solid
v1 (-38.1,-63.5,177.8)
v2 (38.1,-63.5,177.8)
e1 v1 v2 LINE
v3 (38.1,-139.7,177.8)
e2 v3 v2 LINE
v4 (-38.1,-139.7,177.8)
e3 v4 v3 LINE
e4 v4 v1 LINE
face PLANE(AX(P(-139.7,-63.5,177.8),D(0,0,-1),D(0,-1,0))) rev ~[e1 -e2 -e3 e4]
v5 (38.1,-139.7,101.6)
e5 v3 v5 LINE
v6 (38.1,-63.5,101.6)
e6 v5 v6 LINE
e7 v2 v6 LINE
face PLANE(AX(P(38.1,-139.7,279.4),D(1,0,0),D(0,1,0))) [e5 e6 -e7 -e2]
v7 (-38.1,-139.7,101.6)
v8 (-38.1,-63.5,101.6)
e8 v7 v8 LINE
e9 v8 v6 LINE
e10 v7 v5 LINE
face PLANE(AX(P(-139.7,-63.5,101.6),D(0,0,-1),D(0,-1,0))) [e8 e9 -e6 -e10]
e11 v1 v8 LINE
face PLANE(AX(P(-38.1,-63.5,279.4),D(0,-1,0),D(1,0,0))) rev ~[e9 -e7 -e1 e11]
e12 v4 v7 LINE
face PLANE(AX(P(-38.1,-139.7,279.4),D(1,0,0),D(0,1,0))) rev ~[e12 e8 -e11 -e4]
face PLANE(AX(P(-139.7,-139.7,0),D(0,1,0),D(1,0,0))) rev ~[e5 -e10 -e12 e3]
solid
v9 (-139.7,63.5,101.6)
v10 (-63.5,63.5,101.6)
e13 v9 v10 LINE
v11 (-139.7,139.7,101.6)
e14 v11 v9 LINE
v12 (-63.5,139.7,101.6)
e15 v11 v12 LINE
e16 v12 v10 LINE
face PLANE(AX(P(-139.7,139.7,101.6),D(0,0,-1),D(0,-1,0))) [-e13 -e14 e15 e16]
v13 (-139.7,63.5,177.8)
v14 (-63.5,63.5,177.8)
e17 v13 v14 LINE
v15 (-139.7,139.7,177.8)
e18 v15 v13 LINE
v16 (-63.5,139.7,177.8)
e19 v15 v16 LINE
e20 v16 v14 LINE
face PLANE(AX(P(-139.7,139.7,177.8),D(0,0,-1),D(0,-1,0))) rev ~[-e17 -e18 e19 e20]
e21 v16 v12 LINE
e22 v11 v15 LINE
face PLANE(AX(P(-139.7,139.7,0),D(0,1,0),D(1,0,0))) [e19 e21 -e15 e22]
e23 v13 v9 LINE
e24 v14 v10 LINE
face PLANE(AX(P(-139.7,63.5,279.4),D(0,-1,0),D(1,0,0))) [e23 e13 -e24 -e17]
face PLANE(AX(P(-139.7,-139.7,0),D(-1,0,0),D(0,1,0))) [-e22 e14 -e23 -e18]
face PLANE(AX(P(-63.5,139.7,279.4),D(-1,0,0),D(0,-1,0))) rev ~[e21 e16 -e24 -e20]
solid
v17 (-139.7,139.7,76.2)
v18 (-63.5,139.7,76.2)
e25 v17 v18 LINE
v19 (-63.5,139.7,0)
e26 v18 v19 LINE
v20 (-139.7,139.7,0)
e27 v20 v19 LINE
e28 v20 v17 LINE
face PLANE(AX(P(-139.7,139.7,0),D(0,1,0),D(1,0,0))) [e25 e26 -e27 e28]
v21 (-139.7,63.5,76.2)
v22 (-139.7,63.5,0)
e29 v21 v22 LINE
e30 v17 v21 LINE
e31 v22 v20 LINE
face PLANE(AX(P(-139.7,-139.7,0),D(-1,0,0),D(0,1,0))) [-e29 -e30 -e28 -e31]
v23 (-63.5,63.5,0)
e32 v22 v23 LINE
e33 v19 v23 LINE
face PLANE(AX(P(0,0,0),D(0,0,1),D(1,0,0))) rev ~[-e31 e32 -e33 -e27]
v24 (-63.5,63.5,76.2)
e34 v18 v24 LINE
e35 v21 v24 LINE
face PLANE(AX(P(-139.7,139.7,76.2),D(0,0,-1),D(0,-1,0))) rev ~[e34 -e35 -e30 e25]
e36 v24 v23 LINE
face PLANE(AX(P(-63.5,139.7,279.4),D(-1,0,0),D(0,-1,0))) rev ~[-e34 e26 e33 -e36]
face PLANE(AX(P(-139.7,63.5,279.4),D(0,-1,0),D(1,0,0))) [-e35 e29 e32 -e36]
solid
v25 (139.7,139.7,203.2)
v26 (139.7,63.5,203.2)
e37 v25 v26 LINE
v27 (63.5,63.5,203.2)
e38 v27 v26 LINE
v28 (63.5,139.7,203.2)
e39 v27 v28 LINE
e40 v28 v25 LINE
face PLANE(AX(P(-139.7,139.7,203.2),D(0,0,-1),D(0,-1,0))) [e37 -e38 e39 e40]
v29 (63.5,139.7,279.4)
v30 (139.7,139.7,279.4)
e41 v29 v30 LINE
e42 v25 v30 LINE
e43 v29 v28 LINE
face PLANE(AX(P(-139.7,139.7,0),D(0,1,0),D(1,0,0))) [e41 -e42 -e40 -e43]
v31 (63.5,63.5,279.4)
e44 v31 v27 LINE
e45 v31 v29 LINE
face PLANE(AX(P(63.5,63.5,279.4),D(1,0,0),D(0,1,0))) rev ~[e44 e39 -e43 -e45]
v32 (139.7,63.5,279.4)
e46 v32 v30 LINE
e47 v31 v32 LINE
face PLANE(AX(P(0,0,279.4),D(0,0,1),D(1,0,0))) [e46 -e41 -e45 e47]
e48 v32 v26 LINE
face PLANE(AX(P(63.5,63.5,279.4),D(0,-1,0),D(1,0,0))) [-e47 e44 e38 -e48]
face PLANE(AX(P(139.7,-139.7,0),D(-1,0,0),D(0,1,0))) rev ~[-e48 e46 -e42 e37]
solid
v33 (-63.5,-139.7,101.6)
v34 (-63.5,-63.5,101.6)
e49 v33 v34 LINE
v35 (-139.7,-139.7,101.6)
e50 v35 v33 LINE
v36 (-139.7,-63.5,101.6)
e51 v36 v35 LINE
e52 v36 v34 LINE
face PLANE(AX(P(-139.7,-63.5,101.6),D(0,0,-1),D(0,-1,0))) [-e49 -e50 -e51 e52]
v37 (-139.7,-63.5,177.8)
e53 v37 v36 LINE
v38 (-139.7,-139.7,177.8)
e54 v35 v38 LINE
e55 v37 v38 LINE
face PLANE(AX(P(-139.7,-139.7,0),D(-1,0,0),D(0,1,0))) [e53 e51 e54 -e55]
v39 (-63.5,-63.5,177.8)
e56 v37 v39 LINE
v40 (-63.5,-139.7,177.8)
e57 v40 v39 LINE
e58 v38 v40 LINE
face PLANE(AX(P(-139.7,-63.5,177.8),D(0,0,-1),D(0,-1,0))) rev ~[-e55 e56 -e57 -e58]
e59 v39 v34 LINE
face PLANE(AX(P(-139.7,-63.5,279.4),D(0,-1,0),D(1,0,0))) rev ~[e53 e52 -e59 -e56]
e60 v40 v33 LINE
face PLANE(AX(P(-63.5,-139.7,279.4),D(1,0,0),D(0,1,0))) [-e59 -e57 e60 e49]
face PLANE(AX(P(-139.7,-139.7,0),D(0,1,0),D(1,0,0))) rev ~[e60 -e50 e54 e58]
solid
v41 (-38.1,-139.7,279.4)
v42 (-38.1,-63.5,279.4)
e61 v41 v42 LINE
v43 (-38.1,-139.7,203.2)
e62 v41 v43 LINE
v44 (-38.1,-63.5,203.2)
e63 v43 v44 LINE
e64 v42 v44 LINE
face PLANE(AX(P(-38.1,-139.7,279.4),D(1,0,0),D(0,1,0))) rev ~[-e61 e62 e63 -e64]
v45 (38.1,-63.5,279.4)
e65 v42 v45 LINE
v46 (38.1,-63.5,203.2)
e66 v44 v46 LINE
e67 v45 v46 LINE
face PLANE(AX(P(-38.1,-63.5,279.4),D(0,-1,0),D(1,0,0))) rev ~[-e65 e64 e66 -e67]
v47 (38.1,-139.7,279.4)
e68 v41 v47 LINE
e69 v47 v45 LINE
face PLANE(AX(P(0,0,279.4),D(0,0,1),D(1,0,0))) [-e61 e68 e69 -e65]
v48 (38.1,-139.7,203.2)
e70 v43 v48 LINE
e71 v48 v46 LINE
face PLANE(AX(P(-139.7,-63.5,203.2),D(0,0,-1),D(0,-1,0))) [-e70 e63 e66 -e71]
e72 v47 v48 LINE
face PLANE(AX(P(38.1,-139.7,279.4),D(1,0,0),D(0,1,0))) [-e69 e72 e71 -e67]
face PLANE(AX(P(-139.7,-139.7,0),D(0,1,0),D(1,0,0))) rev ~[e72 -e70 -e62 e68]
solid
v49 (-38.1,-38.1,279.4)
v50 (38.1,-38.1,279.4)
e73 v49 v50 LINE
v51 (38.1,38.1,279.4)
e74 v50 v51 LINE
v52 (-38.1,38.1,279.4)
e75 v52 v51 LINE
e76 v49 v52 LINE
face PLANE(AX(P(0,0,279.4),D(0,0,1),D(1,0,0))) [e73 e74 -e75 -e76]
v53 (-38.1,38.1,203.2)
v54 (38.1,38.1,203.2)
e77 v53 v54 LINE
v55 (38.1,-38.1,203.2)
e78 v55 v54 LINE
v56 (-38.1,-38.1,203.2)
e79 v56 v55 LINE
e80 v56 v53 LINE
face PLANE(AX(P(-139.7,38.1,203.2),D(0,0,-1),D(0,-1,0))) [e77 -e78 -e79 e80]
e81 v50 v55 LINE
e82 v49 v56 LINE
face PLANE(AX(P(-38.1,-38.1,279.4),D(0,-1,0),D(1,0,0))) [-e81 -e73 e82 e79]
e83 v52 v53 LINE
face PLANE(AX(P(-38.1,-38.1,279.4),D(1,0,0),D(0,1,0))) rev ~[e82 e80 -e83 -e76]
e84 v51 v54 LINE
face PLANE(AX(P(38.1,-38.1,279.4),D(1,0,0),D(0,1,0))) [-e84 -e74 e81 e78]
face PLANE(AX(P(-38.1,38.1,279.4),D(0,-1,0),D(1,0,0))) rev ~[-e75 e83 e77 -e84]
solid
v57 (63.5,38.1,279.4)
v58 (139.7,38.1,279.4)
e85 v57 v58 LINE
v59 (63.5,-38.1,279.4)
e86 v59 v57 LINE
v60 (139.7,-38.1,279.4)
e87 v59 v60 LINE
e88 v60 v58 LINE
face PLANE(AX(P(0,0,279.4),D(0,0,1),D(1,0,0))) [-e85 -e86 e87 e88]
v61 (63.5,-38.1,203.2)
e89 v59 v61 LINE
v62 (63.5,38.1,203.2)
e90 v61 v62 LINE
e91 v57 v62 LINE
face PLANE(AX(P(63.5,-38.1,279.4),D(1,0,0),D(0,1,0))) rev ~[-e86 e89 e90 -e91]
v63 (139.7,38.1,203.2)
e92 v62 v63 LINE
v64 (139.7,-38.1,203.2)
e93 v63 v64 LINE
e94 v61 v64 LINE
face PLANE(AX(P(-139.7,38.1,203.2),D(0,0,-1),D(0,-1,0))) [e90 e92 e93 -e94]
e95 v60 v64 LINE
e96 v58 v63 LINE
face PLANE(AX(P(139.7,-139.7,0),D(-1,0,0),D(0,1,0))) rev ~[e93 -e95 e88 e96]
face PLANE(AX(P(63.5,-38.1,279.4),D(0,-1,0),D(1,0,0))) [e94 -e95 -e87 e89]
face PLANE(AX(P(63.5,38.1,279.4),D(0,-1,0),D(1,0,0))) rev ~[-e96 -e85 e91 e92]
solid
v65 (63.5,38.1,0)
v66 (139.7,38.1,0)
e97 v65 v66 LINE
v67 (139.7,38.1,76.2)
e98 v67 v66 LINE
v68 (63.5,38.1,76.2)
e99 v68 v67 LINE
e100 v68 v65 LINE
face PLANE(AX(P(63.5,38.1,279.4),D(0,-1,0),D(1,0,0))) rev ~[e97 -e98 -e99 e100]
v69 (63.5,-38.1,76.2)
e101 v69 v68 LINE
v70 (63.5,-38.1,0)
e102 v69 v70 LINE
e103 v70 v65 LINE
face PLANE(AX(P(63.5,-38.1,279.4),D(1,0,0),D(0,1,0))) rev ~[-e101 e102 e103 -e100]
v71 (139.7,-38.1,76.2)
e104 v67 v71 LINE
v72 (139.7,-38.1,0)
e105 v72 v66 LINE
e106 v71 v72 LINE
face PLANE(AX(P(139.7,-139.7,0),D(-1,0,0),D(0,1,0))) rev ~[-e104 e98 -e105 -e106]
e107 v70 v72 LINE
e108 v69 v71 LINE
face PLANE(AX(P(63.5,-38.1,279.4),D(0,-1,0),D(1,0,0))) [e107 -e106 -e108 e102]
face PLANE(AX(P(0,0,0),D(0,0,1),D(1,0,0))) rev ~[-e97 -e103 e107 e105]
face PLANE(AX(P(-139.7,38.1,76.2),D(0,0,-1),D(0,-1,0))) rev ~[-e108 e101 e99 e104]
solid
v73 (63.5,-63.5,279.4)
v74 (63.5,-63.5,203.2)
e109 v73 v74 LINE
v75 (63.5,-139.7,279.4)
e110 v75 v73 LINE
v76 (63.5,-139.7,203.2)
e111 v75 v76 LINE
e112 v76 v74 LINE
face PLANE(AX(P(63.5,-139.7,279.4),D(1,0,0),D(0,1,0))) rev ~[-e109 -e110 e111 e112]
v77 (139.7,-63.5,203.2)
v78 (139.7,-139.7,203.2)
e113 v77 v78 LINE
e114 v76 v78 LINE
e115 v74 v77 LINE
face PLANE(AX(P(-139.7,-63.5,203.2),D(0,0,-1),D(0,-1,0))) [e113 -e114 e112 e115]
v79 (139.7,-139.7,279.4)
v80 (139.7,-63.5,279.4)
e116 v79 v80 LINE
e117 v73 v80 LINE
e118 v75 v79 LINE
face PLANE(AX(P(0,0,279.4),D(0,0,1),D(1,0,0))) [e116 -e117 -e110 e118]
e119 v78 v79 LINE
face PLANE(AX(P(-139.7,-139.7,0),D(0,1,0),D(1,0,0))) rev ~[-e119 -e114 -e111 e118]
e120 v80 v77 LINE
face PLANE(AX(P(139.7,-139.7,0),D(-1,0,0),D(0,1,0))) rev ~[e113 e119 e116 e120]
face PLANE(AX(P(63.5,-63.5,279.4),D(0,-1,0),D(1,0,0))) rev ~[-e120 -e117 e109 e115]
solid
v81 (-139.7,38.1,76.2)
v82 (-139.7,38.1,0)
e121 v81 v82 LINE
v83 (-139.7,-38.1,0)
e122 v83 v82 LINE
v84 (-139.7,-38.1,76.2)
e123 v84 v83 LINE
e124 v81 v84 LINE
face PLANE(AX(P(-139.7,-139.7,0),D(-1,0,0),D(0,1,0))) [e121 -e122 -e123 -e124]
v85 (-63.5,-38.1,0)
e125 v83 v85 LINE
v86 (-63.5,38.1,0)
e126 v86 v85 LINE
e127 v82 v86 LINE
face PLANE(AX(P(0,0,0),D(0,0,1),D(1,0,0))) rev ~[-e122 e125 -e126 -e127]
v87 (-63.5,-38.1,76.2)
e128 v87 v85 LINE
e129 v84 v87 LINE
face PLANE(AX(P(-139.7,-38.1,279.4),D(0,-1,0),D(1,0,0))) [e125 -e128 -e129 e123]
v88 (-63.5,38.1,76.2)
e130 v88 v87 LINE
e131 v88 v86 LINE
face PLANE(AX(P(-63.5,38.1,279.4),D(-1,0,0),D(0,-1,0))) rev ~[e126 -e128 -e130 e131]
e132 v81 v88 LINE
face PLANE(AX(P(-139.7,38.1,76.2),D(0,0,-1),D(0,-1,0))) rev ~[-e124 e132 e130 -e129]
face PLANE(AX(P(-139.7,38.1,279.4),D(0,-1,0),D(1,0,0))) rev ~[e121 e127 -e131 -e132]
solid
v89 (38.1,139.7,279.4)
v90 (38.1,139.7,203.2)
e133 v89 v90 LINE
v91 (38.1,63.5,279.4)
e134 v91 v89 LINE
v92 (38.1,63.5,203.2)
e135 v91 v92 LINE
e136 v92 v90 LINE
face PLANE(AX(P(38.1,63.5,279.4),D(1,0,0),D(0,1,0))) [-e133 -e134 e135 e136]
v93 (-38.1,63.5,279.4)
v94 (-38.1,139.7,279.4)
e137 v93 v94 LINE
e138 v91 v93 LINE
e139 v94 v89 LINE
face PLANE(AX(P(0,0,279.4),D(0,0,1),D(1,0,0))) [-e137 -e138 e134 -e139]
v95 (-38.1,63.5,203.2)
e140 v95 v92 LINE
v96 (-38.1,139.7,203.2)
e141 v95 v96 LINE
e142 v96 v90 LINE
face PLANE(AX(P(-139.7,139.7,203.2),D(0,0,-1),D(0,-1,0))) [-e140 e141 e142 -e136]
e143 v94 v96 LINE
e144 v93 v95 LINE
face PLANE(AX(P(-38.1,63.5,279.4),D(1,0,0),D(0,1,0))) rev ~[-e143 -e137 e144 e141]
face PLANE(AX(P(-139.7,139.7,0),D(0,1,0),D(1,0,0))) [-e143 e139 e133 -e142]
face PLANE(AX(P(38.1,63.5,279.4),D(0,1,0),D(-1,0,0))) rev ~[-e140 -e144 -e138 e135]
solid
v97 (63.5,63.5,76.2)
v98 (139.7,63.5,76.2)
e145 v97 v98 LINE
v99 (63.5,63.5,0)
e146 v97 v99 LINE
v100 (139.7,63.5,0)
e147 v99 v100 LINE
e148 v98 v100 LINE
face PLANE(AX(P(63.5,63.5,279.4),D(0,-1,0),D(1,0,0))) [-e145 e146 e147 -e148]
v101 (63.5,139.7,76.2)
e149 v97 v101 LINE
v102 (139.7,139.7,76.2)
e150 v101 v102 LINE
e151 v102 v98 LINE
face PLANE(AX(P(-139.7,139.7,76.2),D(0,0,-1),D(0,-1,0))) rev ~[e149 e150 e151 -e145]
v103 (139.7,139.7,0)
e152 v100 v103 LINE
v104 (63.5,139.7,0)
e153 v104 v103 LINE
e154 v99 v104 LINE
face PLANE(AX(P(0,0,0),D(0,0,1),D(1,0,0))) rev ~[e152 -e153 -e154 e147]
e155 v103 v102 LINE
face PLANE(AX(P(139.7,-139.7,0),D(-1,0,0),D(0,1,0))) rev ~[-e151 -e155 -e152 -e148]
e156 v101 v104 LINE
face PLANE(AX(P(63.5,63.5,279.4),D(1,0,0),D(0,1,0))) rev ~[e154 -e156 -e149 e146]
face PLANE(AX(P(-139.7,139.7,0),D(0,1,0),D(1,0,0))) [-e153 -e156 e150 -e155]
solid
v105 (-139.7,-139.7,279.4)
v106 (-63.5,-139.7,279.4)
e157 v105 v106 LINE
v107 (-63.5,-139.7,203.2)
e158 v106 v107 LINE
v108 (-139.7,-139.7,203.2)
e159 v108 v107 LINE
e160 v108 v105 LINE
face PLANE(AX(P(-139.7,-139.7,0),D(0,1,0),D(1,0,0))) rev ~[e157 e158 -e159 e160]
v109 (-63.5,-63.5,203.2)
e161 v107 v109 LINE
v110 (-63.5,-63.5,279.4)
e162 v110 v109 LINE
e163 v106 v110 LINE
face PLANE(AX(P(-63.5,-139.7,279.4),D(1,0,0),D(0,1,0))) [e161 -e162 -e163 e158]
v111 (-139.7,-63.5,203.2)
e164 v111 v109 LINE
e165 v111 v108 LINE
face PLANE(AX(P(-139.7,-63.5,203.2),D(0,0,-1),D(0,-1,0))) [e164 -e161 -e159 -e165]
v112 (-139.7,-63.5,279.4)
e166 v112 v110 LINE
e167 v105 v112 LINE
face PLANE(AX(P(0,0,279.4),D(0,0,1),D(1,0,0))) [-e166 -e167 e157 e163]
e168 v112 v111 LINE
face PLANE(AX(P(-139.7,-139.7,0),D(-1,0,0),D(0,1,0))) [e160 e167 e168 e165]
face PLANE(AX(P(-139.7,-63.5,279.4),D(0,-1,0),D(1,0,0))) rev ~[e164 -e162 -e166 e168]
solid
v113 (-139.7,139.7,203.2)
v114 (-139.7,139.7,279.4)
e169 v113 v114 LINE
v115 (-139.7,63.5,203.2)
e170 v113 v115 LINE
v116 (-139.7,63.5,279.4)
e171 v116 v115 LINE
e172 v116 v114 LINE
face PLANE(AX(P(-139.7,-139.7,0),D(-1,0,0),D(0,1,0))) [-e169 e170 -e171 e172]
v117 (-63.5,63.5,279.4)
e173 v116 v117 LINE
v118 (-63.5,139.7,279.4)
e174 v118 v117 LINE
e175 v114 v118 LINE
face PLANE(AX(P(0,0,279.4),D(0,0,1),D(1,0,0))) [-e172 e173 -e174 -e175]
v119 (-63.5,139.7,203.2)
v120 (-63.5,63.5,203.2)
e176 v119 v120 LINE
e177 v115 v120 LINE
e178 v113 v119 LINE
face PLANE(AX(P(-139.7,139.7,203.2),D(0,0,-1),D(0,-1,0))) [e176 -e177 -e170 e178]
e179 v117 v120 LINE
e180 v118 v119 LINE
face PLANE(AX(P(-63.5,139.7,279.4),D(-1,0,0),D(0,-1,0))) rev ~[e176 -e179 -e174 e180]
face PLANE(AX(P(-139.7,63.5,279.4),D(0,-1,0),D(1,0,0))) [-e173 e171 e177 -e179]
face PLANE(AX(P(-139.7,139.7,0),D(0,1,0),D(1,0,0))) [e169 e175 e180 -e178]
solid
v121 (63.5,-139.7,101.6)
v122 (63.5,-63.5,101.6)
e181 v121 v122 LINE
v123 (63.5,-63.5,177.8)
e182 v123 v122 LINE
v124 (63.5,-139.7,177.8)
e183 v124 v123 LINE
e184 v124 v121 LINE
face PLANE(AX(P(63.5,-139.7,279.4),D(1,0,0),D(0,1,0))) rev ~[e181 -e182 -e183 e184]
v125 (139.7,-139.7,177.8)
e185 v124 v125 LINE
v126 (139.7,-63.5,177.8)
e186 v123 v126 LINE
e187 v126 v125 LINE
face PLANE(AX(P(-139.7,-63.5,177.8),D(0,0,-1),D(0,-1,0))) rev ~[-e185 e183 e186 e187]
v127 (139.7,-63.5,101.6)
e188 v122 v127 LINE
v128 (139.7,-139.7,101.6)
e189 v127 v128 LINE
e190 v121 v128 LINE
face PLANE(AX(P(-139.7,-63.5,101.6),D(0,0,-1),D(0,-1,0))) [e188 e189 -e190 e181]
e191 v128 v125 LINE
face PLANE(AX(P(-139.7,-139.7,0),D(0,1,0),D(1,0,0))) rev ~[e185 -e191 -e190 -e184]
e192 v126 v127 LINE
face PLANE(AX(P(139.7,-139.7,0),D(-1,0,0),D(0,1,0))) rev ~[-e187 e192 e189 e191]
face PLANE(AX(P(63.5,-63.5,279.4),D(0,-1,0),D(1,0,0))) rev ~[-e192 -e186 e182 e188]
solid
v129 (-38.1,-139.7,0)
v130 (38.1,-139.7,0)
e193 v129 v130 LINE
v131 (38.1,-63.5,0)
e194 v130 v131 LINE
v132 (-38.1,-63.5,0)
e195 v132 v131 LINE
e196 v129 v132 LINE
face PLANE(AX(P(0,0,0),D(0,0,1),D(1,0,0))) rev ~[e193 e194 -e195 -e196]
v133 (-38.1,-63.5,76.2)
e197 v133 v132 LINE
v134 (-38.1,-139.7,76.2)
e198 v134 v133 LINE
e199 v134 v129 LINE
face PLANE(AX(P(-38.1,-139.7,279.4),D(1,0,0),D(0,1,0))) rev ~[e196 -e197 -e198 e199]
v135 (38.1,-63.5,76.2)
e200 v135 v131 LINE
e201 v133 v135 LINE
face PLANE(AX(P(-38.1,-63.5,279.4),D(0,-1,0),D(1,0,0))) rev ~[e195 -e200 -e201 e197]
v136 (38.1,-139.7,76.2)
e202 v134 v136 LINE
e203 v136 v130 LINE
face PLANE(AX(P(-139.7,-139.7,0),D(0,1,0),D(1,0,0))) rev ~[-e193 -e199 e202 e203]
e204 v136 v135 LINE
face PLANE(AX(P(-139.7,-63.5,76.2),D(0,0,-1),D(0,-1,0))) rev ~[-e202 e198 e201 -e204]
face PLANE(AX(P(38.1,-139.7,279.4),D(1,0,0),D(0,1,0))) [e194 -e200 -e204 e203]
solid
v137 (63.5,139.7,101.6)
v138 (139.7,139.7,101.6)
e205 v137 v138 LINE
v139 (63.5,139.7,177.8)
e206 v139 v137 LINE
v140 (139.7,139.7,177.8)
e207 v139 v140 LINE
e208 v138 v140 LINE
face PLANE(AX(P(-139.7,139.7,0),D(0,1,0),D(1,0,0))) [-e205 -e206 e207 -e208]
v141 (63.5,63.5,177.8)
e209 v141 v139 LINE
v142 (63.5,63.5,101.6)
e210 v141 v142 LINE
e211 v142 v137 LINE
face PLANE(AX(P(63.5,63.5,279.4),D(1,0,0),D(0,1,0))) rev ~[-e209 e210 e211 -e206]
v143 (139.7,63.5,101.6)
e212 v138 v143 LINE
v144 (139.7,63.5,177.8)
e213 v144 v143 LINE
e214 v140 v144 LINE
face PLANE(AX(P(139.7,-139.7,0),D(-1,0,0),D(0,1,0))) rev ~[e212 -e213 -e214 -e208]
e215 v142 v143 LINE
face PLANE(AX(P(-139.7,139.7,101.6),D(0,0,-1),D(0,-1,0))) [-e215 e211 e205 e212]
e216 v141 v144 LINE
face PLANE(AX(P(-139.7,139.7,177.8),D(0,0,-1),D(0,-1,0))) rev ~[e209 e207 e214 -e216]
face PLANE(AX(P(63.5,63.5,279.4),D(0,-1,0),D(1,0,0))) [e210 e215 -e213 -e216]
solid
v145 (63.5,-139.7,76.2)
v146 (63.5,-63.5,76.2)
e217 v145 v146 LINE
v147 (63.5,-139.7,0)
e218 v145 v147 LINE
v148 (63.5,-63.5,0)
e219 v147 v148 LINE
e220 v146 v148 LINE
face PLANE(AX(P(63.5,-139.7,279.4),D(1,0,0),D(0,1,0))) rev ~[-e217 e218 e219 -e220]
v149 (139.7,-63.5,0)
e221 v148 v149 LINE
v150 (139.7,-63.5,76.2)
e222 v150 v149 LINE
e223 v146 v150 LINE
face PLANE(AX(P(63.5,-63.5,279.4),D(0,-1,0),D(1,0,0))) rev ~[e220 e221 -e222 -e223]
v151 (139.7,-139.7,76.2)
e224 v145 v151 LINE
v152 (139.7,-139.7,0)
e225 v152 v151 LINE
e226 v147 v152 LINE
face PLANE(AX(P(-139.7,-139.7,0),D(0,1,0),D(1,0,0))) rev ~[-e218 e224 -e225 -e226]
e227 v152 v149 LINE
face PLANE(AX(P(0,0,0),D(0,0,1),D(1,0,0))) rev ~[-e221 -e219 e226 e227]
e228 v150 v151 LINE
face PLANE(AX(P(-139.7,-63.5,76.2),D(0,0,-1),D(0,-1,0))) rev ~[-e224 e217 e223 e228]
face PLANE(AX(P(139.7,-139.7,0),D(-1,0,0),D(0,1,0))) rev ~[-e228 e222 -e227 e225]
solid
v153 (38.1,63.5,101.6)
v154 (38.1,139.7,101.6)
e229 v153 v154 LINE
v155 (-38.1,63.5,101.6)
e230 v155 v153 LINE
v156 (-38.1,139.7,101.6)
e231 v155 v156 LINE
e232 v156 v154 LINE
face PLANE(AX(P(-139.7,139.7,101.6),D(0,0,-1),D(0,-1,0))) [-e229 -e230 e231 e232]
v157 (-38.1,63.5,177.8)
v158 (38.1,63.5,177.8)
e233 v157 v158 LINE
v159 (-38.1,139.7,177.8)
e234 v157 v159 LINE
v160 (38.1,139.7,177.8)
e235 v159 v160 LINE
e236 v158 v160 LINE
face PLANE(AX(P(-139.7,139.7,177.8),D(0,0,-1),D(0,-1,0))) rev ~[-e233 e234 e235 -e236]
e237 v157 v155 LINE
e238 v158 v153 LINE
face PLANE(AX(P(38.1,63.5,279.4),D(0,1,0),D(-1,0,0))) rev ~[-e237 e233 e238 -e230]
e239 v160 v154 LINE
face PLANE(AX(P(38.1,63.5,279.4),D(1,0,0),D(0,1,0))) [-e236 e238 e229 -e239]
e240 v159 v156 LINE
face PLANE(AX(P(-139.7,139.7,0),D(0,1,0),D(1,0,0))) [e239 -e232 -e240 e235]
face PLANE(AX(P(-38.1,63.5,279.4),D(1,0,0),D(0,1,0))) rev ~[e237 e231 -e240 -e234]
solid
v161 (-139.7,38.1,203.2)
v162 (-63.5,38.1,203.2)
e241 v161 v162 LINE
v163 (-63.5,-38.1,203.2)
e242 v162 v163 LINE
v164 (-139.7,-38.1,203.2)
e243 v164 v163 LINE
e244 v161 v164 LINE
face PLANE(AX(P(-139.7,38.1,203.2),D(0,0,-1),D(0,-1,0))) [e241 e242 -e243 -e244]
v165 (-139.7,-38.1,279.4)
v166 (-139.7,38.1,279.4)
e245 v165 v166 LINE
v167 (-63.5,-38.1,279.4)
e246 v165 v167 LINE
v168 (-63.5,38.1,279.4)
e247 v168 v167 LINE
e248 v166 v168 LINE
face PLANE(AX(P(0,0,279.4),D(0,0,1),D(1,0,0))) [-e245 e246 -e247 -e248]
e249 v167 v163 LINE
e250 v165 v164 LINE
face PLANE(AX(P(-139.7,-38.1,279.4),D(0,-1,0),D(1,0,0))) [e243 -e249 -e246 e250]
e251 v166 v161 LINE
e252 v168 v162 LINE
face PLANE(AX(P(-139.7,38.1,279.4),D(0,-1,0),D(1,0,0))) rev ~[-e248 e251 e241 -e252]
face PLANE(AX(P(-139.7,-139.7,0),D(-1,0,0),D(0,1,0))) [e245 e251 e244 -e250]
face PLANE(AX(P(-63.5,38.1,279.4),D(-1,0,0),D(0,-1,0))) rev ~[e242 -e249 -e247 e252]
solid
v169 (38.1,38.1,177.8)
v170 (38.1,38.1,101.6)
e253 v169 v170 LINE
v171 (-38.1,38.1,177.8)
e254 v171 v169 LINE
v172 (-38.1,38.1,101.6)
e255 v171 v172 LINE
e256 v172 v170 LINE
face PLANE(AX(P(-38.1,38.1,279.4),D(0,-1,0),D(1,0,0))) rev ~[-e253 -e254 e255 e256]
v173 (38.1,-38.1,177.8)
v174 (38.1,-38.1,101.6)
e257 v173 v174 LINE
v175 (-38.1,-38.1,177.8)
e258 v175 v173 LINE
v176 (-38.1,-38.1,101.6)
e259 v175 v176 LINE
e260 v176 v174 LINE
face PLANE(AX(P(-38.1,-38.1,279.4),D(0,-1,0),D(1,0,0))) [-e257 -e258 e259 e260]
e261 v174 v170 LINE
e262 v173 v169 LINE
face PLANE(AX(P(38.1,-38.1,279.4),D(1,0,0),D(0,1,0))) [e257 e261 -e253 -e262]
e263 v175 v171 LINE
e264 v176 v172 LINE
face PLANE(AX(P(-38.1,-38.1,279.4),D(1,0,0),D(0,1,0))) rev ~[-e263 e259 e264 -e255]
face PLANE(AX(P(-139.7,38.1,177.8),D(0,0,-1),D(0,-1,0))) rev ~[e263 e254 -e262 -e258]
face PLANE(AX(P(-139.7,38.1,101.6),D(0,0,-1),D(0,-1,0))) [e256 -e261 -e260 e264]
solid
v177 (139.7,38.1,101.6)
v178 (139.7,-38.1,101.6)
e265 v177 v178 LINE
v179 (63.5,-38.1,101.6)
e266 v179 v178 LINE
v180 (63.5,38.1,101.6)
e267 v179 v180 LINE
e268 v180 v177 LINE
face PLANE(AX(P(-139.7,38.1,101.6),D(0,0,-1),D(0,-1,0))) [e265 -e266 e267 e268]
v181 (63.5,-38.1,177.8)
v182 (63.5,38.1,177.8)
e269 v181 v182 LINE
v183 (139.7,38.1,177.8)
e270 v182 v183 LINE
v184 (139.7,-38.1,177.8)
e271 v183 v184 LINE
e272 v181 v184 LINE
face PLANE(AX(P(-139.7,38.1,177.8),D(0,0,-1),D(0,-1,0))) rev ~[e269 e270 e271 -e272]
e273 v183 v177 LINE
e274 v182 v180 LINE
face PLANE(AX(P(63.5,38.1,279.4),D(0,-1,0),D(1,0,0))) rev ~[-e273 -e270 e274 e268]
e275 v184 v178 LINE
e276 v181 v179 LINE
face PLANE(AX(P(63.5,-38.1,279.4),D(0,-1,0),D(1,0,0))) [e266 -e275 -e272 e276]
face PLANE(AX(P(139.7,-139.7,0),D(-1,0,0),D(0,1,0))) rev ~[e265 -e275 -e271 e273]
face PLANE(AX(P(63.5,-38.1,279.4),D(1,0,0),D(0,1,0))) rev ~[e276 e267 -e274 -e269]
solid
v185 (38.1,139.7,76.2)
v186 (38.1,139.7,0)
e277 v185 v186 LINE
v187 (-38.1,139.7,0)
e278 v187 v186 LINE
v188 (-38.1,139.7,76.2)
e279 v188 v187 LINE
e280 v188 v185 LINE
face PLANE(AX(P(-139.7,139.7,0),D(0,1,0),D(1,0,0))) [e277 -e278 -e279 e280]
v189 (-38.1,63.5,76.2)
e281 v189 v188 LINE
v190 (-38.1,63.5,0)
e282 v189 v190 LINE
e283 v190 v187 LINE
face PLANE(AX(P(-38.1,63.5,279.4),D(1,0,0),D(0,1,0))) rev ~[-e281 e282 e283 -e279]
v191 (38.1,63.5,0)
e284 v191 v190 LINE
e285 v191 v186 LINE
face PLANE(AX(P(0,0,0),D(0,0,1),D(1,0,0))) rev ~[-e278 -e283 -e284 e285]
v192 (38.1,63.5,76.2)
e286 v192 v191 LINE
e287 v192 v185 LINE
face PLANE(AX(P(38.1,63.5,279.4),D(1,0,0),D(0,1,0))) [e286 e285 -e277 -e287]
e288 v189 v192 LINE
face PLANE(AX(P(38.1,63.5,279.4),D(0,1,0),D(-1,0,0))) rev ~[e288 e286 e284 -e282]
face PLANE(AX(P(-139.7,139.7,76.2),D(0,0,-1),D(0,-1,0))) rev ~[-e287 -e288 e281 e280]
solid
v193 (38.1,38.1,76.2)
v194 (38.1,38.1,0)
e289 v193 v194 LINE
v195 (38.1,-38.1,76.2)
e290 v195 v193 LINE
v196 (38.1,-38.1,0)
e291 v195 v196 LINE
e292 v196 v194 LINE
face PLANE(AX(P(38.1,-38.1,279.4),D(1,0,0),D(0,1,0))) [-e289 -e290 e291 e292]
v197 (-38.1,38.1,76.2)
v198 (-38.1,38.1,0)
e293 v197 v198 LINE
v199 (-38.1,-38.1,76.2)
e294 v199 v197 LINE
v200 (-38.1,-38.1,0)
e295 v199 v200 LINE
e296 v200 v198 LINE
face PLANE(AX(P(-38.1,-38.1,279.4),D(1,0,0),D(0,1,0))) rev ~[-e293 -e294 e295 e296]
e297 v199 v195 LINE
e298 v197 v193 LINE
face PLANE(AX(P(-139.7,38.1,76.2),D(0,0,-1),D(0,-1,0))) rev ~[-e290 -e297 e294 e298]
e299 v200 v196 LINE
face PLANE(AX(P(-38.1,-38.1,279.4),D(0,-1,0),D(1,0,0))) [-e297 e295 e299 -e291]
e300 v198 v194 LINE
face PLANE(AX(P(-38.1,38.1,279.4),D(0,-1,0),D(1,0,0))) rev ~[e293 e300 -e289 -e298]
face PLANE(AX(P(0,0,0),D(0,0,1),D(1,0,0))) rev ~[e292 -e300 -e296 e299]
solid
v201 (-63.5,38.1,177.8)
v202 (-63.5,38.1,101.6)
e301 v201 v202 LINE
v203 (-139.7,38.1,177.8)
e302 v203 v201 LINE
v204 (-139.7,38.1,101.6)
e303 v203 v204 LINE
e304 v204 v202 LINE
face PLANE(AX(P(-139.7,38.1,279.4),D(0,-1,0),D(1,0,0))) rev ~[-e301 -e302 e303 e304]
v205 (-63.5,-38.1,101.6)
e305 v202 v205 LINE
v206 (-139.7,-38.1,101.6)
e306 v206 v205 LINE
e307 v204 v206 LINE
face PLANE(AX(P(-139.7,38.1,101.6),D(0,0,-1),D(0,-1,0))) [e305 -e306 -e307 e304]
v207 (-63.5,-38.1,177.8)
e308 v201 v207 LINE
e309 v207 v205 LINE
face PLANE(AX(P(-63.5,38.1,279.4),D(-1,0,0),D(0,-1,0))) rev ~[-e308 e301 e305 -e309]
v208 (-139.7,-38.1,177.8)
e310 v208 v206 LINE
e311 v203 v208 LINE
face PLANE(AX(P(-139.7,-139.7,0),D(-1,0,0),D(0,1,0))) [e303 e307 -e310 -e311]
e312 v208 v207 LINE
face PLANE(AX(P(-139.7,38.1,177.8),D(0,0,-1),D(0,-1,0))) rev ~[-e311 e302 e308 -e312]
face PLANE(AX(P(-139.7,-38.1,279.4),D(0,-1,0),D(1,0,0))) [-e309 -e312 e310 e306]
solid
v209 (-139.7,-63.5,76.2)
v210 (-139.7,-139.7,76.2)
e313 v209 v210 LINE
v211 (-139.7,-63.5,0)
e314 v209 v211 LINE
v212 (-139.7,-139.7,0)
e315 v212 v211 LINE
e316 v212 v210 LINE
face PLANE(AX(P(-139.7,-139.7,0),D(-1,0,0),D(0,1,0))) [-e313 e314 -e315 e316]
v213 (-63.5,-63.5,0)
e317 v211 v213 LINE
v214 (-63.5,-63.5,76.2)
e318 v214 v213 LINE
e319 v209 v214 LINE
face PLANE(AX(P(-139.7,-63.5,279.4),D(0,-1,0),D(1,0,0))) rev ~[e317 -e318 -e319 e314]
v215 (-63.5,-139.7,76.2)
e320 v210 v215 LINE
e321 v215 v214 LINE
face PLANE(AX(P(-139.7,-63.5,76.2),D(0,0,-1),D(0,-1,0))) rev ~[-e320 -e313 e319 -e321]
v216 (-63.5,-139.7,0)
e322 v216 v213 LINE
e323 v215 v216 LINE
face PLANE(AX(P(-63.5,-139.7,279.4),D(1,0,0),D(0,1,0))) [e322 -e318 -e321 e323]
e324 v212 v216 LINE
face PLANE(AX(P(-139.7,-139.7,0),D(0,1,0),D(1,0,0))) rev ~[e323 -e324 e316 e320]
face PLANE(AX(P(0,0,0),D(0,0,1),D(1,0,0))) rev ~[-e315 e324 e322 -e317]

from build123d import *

# Parameters (mm, degrees)
F0_W      = 279.4
F0_H      = 279.4
F1_DEPTH  = 279.4
F2_W      = 25.4
F2_H      = 76.2
F2_H_2    = 25.4
F2_W_2    = 76.2
F3_DEPTH  = 279.4
F4_W      = 76.2
F4_H      = 25.4
F5_DEPTH  = 533.4
F6_W      = 76.2
F6_H      = 25.4
F7_DEPTH  = 533.4
F8_W      = 76.2
F8_H      = 25.4
F9_DEPTH  = 81838.8
F10_W     = 76.2
F10_H     = 25.4
F11_DEPTH = 1752.6
F12_W     = 76.2
F12_H     = 25.4
F13_DEPTH = 50876.2
F14_W     = 76.2
F14_H     = 25.4
F15_DEPTH = 10668
F16_W     = 76.2
F16_H     = 25.4
F17_DEPTH = 33959.8
F18_W     = 76.2
F18_H     = 25.4
F19_DEPTH = 132969
F20_W     = 76.2
F20_H     = 25.4
F21_DEPTH = 50850.8


with BuildPart() as f1:
    # F0 (on Top) → F1 (new body)
    with BuildSketch(Plane.XY):
        Rectangle(F0_W, F0_H)
    extrude(amount=F1_DEPTH)

    # F2 (on face) → F3 (cut)
    with BuildSketch(Plane.XY.offset(279.4)):
        with Locations((-50.8, 101.6)):
            Rectangle(F2_W, F2_H)
        with Locations((-50.8, 50.8)):
            Rectangle(F2_W, F2_H_2)
        with Locations((-101.6, 50.8)):
            Rectangle(F2_W_2, F2_H_2)
        with Locations((0, 50.8)):
            Rectangle(F2_W_2, F2_H_2)
        with Locations((-50.8, 0)):
            Rectangle(F2_W, F2_H)
        with Locations((50.8, 50.8)):
            Rectangle(F2_W, F2_H_2)
        with Locations((50.8, 101.6)):
            Rectangle(F2_W, F2_H)
        with Locations((-50.8, -50.8)):
            Rectangle(F2_W, F2_H_2)
        with Locations((-101.6, -50.8)):
            Rectangle(F2_W_2, F2_H_2)
        with Locations((0, -50.8)):
            Rectangle(F2_W_2, F2_H_2)
        with Locations((50.8, 0)):
            Rectangle(F2_W, F2_H)
        with Locations((101.6, 50.8)):
            Rectangle(F2_W_2, F2_H_2)
        with Locations((-50.8, -101.6)):
            Rectangle(F2_W, F2_H)
        with Locations((50.8, -50.8)):
            Rectangle(F2_W, F2_H_2)
        with Locations((50.8, -101.6)):
            Rectangle(F2_W, F2_H)
        with Locations((101.6, -50.8)):
            Rectangle(F2_W_2, F2_H_2)
    extrude(amount=-F3_DEPTH, mode=Mode.SUBTRACT)

    # F4 (on face) → F5 (cut)
    with BuildSketch(Plane(origin=(-139.7, 0, 0), x_dir=(0, -1, 0), z_dir=(-1, 0, 0))):
        with Locations((-101.6, 190.5)):
            Rectangle(F4_W, F4_H)
        with Locations((-101.6, 88.9)):
            Rectangle(F4_W, F4_H)
    extrude(amount=-F5_DEPTH, mode=Mode.SUBTRACT)

    # F6 (on face) → F7 (cut)
    with BuildSketch(Plane(origin=(-38.1, 0, 0), x_dir=(0, -1, 0), z_dir=(-1, 0, 0))):
        with Locations((-101.6, 190.5)):
            Rectangle(F6_W, F6_H)
        with Locations((-101.6, 88.9)):
            Rectangle(F6_W, F6_H)
    extrude(amount=-F7_DEPTH, mode=Mode.SUBTRACT)

    # F8 (on face) → F9 (cut)
    with BuildSketch(Plane(origin=(63.5, 0, 0), x_dir=(0, -1, 0), z_dir=(-1, 0, 0))):
        with Locations((-101.6, 190.5)):
            Rectangle(F8_W, F8_H)
        with Locations((-101.6, 88.9)):
            Rectangle(F8_W, F8_H)
    extrude(amount=-F9_DEPTH, mode=Mode.SUBTRACT)

    # F10 (on face) → F11 (cut)
    with BuildSketch(Plane(origin=(-139.7, 0, 0), x_dir=(0, -1, 0), z_dir=(-1, 0, 0))):
        with Locations((0, 190.5)):
            Rectangle(F10_W, F10_H)
        with Locations((0, 88.9)):
            Rectangle(F10_W, F10_H)
    extrude(amount=-F11_DEPTH, mode=Mode.SUBTRACT)

    # F12 (on face) → F13 (cut)
    with BuildSketch(Plane(origin=(-38.1, 0, 0), x_dir=(0, -1, 0), z_dir=(-1, 0, 0))):
        with Locations((0, 190.5)):
            Rectangle(F12_W, F12_H)
        with Locations((0, 88.9)):
            Rectangle(F12_W, F12_H)
    extrude(amount=-F13_DEPTH, mode=Mode.SUBTRACT)

    # F14 (on face) → F15 (cut)
    with BuildSketch(Plane(origin=(63.5, 0, 0), x_dir=(0, -1, 0), z_dir=(-1, 0, 0))):
        with Locations((0, 190.5)):
            Rectangle(F14_W, F14_H)
        with Locations((0, 88.9)):
            Rectangle(F14_W, F14_H)
    extrude(amount=-F15_DEPTH, mode=Mode.SUBTRACT)

    # F16 (on face) → F17 (cut)
    with BuildSketch(Plane(origin=(-139.7, 0, 0), x_dir=(0, -1, 0), z_dir=(-1, 0, 0))):
        with Locations((101.6, 190.5)):
            Rectangle(F16_W, F16_H)
        with Locations((101.6, 88.9)):
            Rectangle(F16_W, F16_H)
    extrude(amount=-F17_DEPTH, mode=Mode.SUBTRACT)

    # F18 (on face) → F19 (cut)
    with BuildSketch(Plane(origin=(-38.1, 0, 0), x_dir=(0, -1, 0), z_dir=(-1, 0, 0))):
        with Locations((101.6, 190.5)):
            Rectangle(F18_W, F18_H)
        with Locations((101.6, 88.9)):
            Rectangle(F18_W, F18_H)
    extrude(amount=-F19_DEPTH, mode=Mode.SUBTRACT)

    # F20 (on face) → F21 (cut)
    with BuildSketch(Plane(origin=(63.5, 0, 0), x_dir=(0, -1, 0), z_dir=(-1, 0, 0))):
        with Locations((101.6, 190.5)):
            Rectangle(F20_W, F20_H)
        with Locations((101.6, 88.9)):
            Rectangle(F20_W, F20_H)
    extrude(amount=-F21_DEPTH, mode=Mode.SUBTRACT)


solid = f1.part
